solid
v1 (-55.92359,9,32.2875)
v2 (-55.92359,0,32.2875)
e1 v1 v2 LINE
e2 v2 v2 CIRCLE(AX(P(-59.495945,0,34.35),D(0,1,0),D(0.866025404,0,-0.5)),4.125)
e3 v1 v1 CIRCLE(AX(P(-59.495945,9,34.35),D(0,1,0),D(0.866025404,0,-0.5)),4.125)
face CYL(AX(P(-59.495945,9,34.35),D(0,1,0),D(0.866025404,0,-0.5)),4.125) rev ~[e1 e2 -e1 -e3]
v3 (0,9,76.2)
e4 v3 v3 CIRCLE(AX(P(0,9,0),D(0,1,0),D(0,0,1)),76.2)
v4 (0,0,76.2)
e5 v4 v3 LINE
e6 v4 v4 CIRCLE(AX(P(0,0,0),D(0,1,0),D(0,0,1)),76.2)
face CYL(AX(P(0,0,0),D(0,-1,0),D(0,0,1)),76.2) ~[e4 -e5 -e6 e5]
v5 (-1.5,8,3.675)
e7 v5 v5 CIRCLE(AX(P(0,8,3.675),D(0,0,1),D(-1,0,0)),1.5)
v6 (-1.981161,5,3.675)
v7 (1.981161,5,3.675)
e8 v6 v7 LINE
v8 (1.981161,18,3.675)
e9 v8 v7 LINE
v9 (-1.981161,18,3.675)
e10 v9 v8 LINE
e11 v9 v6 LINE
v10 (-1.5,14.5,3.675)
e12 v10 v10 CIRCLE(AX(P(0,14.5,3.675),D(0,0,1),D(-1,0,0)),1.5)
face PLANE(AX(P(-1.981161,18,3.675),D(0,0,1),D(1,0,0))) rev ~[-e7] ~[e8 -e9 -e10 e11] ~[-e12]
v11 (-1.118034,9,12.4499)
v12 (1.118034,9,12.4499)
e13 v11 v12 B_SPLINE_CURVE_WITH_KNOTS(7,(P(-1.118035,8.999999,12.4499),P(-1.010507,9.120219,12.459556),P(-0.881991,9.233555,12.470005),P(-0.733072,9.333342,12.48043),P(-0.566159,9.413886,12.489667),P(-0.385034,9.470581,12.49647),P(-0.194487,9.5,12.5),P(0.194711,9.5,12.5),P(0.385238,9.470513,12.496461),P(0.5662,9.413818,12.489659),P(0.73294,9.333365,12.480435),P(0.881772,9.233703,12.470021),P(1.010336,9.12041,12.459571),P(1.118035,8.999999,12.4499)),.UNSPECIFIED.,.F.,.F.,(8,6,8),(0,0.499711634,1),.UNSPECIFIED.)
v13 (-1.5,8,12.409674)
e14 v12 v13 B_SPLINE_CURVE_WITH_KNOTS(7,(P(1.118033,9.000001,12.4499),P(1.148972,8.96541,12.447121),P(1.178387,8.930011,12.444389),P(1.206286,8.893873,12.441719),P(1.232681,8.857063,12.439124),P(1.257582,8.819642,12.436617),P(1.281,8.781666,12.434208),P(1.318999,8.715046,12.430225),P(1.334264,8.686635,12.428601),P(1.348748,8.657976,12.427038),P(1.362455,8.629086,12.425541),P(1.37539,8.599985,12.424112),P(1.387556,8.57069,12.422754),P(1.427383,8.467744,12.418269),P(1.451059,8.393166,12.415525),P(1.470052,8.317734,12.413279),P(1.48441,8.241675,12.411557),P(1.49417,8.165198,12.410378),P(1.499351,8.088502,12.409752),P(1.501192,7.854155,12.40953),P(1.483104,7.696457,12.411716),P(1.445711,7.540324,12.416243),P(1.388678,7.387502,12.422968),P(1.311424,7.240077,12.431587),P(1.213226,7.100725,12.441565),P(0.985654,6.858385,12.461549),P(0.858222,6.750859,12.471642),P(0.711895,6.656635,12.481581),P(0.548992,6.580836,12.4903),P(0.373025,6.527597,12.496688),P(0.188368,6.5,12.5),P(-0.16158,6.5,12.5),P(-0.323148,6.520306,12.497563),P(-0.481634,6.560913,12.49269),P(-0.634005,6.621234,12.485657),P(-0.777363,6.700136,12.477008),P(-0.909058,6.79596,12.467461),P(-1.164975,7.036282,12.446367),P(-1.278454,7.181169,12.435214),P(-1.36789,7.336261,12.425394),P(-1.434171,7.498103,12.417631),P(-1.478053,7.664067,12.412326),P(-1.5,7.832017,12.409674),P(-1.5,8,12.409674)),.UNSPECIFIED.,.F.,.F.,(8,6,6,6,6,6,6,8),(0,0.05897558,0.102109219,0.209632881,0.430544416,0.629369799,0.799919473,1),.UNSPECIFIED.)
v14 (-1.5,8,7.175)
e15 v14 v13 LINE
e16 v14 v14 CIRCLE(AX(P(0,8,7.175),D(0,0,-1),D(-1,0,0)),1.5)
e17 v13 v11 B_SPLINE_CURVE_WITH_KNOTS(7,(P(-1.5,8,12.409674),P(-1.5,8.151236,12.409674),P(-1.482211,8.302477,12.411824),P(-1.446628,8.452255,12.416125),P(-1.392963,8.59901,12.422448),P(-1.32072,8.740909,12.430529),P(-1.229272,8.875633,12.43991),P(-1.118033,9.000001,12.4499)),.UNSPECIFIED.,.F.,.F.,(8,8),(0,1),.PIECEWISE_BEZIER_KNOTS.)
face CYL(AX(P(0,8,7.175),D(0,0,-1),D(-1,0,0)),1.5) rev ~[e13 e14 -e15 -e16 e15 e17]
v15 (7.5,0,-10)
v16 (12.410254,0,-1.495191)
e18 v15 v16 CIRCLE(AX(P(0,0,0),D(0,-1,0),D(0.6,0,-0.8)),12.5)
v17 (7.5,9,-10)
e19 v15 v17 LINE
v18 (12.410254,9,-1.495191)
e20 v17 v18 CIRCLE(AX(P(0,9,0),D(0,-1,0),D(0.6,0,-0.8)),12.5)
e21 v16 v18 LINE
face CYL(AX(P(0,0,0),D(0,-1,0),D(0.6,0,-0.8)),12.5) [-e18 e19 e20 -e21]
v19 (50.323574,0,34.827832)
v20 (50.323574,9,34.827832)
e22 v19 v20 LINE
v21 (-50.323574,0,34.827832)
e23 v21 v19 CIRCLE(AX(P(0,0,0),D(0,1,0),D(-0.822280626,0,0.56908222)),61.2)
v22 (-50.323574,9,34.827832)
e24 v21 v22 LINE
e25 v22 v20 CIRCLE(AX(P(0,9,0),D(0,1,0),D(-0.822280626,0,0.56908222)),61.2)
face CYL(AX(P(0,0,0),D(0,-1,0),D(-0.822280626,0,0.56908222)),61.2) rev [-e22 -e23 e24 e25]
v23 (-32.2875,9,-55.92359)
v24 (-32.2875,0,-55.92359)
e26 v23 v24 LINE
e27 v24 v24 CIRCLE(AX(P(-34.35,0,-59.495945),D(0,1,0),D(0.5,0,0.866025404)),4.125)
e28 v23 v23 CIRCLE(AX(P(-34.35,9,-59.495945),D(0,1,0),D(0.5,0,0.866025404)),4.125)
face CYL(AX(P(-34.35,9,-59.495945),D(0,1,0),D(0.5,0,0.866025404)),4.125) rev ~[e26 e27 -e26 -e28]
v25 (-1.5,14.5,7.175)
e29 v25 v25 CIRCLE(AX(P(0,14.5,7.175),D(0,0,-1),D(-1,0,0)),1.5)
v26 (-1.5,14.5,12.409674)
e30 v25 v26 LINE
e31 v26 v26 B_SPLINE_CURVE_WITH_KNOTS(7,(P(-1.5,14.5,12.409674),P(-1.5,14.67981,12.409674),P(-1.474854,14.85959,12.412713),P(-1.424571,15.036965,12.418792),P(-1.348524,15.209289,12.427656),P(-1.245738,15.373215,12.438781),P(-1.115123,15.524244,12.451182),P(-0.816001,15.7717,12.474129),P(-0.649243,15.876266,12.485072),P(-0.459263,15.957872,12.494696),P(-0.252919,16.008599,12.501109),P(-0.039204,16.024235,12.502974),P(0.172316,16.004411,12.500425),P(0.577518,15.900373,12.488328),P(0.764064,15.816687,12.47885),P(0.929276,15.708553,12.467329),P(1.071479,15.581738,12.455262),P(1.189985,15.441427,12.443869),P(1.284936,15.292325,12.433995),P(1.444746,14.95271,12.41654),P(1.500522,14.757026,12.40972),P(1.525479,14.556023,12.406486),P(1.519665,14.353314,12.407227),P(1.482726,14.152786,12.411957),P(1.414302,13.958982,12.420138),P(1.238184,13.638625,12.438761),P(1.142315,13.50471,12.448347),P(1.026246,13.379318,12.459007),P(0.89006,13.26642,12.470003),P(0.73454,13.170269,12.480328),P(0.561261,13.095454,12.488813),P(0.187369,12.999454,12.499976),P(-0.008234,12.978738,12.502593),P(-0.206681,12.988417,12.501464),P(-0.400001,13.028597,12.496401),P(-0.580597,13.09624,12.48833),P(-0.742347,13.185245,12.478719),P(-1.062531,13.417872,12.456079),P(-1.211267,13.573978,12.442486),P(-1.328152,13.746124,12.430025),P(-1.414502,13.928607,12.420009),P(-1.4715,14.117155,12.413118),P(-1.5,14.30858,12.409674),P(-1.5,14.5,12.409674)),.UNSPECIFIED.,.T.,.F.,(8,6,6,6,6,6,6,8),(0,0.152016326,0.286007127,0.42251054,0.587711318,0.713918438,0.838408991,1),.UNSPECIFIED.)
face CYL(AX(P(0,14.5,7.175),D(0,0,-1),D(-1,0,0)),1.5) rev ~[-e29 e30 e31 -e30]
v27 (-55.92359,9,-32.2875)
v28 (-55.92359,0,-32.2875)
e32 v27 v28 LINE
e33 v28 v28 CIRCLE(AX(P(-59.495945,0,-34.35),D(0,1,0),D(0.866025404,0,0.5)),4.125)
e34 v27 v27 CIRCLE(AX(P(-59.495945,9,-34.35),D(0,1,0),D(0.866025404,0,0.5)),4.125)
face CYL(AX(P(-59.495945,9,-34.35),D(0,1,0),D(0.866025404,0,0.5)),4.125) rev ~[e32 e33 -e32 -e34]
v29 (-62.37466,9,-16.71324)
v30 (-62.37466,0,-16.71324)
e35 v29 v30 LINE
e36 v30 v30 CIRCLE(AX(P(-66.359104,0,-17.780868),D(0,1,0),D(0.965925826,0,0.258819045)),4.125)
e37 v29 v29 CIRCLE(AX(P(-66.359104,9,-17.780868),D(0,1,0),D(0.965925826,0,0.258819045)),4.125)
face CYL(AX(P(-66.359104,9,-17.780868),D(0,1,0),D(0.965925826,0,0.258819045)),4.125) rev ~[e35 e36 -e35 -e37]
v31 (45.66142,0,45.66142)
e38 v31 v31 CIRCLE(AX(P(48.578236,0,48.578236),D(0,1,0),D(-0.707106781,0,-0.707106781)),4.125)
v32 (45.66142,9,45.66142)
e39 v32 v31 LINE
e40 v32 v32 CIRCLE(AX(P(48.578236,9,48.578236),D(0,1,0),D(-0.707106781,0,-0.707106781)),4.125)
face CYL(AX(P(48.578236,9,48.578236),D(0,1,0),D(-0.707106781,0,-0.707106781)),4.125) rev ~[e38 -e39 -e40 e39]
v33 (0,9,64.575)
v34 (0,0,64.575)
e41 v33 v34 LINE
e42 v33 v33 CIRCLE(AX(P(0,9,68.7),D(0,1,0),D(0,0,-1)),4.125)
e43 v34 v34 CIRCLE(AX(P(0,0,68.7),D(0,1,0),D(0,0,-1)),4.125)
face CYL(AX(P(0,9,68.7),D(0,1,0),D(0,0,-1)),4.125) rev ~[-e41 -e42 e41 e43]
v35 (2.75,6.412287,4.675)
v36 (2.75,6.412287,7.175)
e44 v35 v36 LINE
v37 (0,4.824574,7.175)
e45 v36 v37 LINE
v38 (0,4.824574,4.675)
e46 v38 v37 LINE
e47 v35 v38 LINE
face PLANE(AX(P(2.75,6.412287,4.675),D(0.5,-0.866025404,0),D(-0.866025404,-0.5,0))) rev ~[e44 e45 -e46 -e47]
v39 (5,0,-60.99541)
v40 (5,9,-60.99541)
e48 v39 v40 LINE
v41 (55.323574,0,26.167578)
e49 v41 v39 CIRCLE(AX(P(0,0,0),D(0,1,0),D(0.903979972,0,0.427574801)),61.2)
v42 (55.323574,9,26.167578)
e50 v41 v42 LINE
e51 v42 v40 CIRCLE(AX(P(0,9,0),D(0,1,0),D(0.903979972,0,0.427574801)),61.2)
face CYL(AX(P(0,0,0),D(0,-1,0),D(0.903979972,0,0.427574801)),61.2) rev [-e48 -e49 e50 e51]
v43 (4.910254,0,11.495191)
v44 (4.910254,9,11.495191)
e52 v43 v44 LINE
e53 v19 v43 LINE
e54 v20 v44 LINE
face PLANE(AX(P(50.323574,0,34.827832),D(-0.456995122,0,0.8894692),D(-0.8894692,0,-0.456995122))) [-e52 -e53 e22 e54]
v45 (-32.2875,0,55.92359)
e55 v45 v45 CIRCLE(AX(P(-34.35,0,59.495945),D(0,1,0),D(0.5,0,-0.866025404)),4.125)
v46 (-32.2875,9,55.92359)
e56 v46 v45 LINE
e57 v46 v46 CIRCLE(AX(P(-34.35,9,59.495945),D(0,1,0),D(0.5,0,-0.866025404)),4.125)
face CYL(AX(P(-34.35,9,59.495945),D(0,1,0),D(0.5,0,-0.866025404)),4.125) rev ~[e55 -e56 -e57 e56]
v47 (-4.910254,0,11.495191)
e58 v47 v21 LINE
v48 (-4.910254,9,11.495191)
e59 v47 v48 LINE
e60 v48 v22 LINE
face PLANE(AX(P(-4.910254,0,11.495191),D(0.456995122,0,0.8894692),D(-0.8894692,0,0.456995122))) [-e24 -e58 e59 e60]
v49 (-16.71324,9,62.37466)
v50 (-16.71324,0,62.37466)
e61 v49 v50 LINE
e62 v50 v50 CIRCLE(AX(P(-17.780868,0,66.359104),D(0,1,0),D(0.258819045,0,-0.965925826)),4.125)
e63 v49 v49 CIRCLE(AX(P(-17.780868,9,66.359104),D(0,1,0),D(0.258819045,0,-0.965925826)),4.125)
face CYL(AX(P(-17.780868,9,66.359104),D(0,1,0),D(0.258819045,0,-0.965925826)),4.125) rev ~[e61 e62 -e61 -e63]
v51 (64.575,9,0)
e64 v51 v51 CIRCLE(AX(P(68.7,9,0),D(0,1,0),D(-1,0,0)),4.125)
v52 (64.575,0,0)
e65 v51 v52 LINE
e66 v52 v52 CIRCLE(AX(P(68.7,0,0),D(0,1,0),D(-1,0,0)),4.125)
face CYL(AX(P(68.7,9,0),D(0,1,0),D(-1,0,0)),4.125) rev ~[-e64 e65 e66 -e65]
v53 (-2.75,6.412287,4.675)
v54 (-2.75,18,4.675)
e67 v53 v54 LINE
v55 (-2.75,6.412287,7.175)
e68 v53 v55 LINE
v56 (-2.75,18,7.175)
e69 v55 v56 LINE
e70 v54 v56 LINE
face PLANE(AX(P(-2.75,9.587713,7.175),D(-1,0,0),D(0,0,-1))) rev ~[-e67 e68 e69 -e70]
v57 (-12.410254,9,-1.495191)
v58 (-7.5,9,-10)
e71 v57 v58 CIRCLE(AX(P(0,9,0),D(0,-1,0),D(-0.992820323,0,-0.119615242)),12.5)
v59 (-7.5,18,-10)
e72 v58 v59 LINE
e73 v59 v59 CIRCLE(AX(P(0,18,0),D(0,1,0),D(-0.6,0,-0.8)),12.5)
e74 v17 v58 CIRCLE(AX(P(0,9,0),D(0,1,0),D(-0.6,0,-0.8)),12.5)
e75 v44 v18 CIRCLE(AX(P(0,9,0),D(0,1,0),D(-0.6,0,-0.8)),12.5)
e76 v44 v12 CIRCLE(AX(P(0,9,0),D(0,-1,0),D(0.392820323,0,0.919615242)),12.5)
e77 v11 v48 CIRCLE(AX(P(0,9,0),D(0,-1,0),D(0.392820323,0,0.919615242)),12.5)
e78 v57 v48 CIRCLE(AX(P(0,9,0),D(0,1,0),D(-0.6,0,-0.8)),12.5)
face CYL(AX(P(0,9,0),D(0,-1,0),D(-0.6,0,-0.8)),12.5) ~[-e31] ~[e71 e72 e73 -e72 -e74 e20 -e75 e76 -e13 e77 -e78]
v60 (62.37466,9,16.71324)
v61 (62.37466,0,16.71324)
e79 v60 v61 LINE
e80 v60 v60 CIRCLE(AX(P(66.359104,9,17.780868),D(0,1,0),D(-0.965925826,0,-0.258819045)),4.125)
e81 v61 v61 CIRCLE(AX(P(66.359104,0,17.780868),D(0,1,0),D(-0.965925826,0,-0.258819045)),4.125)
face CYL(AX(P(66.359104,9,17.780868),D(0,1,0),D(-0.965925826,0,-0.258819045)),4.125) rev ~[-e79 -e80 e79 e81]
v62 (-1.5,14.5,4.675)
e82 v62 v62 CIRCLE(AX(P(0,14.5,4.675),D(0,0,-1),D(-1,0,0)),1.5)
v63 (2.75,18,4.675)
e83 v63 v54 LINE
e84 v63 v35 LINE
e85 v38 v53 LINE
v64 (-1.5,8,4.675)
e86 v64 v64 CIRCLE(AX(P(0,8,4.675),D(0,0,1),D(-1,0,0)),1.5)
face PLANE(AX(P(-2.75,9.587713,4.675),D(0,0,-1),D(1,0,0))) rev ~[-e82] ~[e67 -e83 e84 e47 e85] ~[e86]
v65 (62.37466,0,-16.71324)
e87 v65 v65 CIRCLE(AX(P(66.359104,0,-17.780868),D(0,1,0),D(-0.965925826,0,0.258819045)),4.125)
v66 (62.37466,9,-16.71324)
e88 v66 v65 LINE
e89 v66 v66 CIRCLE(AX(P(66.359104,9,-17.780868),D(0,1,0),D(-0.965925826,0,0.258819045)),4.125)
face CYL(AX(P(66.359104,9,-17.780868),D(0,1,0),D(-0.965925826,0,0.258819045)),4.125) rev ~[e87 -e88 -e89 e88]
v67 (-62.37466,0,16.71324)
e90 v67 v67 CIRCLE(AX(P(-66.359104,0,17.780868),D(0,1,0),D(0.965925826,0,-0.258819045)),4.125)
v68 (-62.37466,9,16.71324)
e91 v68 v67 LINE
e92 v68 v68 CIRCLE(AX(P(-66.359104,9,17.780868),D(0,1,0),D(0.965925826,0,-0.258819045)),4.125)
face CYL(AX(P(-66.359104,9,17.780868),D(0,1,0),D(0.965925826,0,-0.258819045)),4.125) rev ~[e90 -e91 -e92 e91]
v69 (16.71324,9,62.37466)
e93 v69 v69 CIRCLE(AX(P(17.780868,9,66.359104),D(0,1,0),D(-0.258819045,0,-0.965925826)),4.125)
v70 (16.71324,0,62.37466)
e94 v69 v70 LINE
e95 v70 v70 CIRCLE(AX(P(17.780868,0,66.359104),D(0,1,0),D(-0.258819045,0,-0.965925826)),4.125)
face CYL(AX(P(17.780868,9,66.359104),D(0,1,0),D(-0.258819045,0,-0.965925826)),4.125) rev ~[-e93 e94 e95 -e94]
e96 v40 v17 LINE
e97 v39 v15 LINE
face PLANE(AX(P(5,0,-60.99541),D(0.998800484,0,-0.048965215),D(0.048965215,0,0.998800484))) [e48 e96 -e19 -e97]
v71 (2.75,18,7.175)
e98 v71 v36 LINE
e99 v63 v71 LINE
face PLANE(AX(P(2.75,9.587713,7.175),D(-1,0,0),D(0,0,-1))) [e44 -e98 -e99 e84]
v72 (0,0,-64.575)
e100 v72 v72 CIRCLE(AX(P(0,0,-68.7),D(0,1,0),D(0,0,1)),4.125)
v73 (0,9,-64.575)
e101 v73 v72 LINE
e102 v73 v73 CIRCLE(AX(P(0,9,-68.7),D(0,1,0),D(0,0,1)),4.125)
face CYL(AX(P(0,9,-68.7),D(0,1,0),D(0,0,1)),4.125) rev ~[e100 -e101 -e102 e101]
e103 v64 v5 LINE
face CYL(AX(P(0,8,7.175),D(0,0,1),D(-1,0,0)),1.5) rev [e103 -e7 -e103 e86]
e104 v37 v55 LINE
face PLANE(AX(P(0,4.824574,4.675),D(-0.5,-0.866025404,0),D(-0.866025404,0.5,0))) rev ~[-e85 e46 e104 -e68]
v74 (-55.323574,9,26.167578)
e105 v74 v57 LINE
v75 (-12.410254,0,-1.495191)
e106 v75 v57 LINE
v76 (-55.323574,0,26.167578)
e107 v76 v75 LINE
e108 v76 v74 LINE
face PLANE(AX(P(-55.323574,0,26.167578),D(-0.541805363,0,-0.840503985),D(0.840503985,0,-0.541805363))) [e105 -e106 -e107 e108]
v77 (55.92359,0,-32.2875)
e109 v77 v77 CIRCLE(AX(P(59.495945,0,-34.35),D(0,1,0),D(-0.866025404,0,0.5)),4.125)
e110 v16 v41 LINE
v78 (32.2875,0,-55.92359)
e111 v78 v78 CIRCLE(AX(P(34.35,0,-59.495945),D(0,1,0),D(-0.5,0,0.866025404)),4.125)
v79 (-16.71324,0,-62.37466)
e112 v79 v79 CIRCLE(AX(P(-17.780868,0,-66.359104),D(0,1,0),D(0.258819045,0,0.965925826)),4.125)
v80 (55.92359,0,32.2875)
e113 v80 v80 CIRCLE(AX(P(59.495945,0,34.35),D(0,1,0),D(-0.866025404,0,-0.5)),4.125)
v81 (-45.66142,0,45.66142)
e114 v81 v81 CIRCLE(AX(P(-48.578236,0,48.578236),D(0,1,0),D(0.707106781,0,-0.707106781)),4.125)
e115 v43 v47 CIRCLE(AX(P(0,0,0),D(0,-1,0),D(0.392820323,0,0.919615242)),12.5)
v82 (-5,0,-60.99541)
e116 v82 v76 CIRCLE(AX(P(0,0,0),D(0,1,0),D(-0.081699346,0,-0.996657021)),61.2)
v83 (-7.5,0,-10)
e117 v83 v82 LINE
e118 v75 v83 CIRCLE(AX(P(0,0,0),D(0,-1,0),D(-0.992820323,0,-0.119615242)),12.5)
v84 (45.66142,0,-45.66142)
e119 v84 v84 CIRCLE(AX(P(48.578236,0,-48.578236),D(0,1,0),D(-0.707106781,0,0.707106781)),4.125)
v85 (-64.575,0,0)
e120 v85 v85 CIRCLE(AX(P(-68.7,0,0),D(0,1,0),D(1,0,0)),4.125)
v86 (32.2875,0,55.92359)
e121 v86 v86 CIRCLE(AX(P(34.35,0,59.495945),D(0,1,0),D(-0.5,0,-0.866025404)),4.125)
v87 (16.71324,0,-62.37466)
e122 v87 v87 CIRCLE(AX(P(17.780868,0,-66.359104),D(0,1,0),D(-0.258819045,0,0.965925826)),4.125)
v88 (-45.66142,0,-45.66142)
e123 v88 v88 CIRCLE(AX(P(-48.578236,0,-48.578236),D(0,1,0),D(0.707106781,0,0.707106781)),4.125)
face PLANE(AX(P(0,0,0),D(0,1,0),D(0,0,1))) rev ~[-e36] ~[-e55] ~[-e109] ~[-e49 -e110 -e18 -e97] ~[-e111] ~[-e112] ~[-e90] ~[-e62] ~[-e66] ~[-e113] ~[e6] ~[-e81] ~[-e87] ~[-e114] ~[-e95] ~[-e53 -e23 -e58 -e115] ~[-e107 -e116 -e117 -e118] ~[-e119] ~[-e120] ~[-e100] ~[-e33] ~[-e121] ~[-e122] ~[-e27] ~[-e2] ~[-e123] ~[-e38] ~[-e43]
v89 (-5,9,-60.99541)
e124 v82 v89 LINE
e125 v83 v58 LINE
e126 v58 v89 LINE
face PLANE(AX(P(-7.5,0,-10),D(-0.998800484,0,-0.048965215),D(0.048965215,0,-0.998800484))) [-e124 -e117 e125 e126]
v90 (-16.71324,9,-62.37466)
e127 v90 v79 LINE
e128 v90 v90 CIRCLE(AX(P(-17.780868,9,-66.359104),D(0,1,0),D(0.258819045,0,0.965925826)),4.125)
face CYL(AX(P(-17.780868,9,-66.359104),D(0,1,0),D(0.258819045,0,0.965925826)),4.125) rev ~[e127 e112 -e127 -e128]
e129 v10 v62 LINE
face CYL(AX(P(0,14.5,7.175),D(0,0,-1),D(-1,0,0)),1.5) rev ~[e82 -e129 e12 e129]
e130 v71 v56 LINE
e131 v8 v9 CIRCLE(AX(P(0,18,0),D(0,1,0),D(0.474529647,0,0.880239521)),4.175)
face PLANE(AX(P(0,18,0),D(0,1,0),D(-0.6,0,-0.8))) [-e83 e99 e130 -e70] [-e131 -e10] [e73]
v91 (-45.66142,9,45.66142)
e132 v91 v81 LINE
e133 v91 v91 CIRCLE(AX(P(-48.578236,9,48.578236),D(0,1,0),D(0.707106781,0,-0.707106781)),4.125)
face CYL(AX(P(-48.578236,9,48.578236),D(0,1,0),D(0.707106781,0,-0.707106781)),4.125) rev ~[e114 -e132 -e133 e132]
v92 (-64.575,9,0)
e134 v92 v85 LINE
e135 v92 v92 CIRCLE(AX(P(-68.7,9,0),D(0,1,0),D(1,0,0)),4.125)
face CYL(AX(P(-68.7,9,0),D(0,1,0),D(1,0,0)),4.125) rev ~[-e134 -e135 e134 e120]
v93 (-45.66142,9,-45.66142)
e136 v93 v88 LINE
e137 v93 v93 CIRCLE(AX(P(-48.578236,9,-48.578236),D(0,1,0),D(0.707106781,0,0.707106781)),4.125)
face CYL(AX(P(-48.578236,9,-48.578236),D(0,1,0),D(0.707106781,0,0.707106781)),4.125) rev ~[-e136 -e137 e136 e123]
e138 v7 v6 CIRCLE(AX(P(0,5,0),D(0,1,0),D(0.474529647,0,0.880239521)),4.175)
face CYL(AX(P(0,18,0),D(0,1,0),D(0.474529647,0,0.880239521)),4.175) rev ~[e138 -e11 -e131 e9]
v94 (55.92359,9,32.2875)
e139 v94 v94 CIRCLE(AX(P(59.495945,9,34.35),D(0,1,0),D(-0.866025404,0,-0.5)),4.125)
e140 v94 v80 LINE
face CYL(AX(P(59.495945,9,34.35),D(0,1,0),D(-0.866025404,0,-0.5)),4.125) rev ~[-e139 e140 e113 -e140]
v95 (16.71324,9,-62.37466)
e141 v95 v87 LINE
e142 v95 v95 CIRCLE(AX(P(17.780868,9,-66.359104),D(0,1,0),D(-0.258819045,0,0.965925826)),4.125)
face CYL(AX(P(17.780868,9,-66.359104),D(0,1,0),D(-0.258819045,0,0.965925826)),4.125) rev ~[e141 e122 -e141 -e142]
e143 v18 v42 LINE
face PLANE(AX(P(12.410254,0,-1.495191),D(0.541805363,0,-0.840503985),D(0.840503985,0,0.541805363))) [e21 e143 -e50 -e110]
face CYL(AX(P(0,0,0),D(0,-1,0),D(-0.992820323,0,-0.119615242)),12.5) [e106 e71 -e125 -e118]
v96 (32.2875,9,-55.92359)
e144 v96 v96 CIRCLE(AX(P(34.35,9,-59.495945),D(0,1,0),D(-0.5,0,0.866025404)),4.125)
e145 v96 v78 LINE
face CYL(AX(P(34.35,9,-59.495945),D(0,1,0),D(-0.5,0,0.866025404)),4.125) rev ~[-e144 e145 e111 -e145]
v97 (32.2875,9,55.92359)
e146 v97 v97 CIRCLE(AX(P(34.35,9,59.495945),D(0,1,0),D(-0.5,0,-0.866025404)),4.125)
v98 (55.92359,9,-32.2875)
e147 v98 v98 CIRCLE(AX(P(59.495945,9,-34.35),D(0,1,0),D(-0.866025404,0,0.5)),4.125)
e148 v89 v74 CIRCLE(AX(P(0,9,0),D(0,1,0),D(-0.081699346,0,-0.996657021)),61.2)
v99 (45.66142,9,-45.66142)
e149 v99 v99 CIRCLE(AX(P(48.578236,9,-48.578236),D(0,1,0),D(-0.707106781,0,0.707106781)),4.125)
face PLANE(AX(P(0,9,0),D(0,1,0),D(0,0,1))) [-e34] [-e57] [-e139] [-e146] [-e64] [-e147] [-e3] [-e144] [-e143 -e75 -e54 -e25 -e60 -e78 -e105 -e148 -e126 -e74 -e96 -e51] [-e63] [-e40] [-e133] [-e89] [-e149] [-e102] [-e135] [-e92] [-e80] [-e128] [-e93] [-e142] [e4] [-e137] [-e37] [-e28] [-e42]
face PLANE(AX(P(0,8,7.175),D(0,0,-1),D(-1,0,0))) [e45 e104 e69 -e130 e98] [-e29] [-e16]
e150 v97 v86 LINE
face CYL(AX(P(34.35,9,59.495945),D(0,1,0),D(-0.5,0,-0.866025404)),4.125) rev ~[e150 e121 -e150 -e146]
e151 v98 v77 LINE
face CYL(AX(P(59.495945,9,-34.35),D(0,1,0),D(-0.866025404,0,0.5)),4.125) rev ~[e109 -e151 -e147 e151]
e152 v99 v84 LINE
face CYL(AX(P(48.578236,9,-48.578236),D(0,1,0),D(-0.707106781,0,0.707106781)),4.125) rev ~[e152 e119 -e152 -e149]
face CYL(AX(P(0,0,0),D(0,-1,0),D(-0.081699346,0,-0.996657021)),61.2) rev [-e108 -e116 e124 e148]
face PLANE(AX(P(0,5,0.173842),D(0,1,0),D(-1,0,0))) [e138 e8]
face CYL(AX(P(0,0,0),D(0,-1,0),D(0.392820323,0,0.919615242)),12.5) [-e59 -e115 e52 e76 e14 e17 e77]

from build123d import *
from build123d.topology import SkipClean

# Parameters (mm, degrees)
SKETCH1_R                      = 76.2
BOSS_EXTRUDE1_DEPTH            = 9
SKETCH2_R                      = 12.5
BOSS_EXTRUDE2_DEPTH            = 9
CUT_EXTRUDE1_DEPTH             = 13
CUT_EXTRUDE2_START             = -1
CUT_EXTRUDE2_DEPTH             = 2.5
CUT_EXTRUDE3_REACH             = 116.376
SKETCH5_R                      = 1.5
CUT_EXTRUDE3_DIRECTION_2_REACH = 116.376
SKETCH6_W                      = 5.5
SKETCH6_H                      = 2.5
CUT_EXTRUDE4_DEPTH             = 109.188743625
SKETCH7_R                      = 4.125
CUT_EXTRUDE5_DEPTH             = 109.138244862
CIRPATTERN1_COUNT              = 24


with BuildPart() as part:
    # Sketch1 → Boss-Extrude1 (new body)
    with BuildSketch(Plane(origin=(0, 0, 0), x_dir=(1, 0, 0), z_dir=(0, 1, 0))):
        with Locations(Location((0, 0, 0), (0, 0, 270))):
            Circle(SKETCH1_R)
        with BuildLine():
            Line((-7.5, 10), (-5, 60.995409663))
            ThreePointArc((-5, 60.995409663), (-53.000754712, 30.6), (-55.323574283, -26.167577813))
            Line((-55.323574283, -26.167577813), (-12.410254038, 1.495190528))
            ThreePointArc((-12.410254038, 1.495190528), (-10.825317547, 6.25), (-7.5, 10))
        make_face(mode=Mode.SUBTRACT)
        with BuildLine():
            Line((5, 60.995409663), (7.5, 10))
            ThreePointArc((7.5, 10), (10.825317547, 6.25), (12.410254038, 1.495190528))
            Line((12.410254038, 1.495190528), (55.323574283, -26.167577813))
            ThreePointArc((55.323574283, -26.167577813), (53.000754712, 30.6), (5, 60.995409663))
        make_face(mode=Mode.SUBTRACT)
        with BuildLine():
            Line((50.323574283, -34.827831851), (4.910254038, -11.495190528))
            ThreePointArc((4.910254038, -11.495190528), (0, -12.5), (-4.910254038, -11.495190528))
            Line((-4.910254038, -11.495190528), (-50.323574283, -34.827831851))
            ThreePointArc((-50.323574283, -34.827831851), (0, -61.2), (50.323574283, -34.827831851))
        make_face(mode=Mode.SUBTRACT)
    extrude(amount=BOSS_EXTRUDE1_DEPTH)

    # Sketch2 → Boss-Extrude2 (add)
    with BuildSketch(Plane(origin=(0, 9, 0), x_dir=(1, 0, 0), z_dir=(0, 1, 0))):
        with Locations(Location((0, 0, 0), (0, 0, 126.869897646))):
            Circle(SKETCH2_R)
    extrude(amount=BOSS_EXTRUDE2_DEPTH)

    # Sketch3 → Cut-Extrude1 (cut)
    with BuildSketch(Plane.XZ.offset(-18)):
        with BuildLine():
            Line((-1.981161276, 3.675), (1.981161276, 3.675))
            ThreePointArc((1.981161276, 3.675), (0, -4.175), (-1.981161276, 3.675))
        make_face()
    extrude(amount=CUT_EXTRUDE1_DEPTH, mode=Mode.SUBTRACT)

    # Sketch4 → Cut-Extrude2 (cut)
    with BuildSketch(Plane(origin=(0, 0, 3.675), x_dir=(-1, 0, 0), z_dir=(0, 0, -1)).offset(CUT_EXTRUDE2_START)):
        Polygon((0, 11.175426481), (-2.75, 9.58771324), (-2.75, 6.41228676), (0, 4.824573519), (2.75, 6.41228676), (2.75, 9.58771324), align=None)
    extrude(amount=-CUT_EXTRUDE2_DEPTH, mode=Mode.SUBTRACT)

    # Sketch5 → Cut-Extrude3 (cut, up to next)
    with BuildSketch(Plane(origin=(0, 0, 7.175), x_dir=(-1, 0, 0), z_dir=(0, 0, -1)), mode=Mode.PRIVATE) as cut_extrude3_sk1:
        with Locations((0, 8)):
            Circle(SKETCH5_R)
    cut_extrude3_tool1 = extrude(cut_extrude3_sk1.sketch, amount=-CUT_EXTRUDE3_REACH, mode=Mode.PRIVATE) & part.part
    # Sketch5 → Cut-Extrude3 (cut, up to next)
    with BuildSketch(Plane(origin=(0, 0, 7.175), x_dir=(-1, 0, 0), z_dir=(0, 0, -1)), mode=Mode.PRIVATE) as cut_extrude3_sk2:
        with Locations((0, 14.5)):
            Circle(SKETCH5_R)
    cut_extrude3_tool2 = extrude(cut_extrude3_sk2.sketch, amount=-CUT_EXTRUDE3_REACH, mode=Mode.PRIVATE) & part.part
    add(cut_extrude3_tool1.solids().sort_by_distance((0, 8, 7.175))[0], mode=Mode.SUBTRACT)
    add(cut_extrude3_tool2.solids().sort_by_distance((0, 14.5, 7.175))[0], mode=Mode.SUBTRACT)

    # Sketch5 → Cut-Extrude3 direction 2 (cut, up to next)
    with BuildSketch(Plane(origin=(0, 0, 7.175), x_dir=(-1, 0, 0), z_dir=(0, 0, -1)), mode=Mode.PRIVATE) as cut_extrude3_direction_2_sk1:
        with Locations((0, 8)):
            Circle(SKETCH5_R)
    cut_extrude3_direction_2_tool1 = extrude(cut_extrude3_direction_2_sk1.sketch, amount=CUT_EXTRUDE3_DIRECTION_2_REACH, mode=Mode.PRIVATE) & part.part
    # Sketch5 → Cut-Extrude3 direction 2 (cut, up to next)
    with BuildSketch(Plane(origin=(0, 0, 7.175), x_dir=(-1, 0, 0), z_dir=(0, 0, -1)), mode=Mode.PRIVATE) as cut_extrude3_direction_2_sk2:
        with Locations((0, 14.5)):
            Circle(SKETCH5_R)
    cut_extrude3_direction_2_tool2 = extrude(cut_extrude3_direction_2_sk2.sketch, amount=CUT_EXTRUDE3_DIRECTION_2_REACH, mode=Mode.PRIVATE) & part.part
    add(cut_extrude3_direction_2_tool1.solids().sort_by_distance((0, 8, 7.175))[0], mode=Mode.SUBTRACT)
    add(cut_extrude3_direction_2_tool2.solids().sort_by_distance((0, 14.5, 7.175))[0], mode=Mode.SUBTRACT)

    # Sketch6 → Cut-Extrude4 (cut, through all)
    with BuildSketch(Plane(origin=(0, 9.58771324, 0), x_dir=(1, 0, 0), z_dir=(0, 1, 0))):
        with Locations((0, -5.925)):
            Rectangle(SKETCH6_W, SKETCH6_H)
    extrude(amount=CUT_EXTRUDE4_DEPTH, mode=Mode.SUBTRACT)

    # Sketch7 → Cut-Extrude5 (cut, through all)
    with SkipClean():  # the faces are left unmerged after this step: merging them gives an invalid solid
        with BuildSketch(Plane(origin=(0, 9, 0), x_dir=(1, 0, 0), z_dir=(0, 1, 0))):
            with Locations(Location((0, 68.7, 0), (0, 0, 270))):
                Circle(SKETCH7_R)
        cut_extrude5 = extrude(amount=-CUT_EXTRUDE5_DEPTH, mode=Mode.SUBTRACT)

    # CirPattern1: Cut-Extrude5 ×24 about axis
    with SkipClean():  # the faces are left unmerged after this step: merging them gives an invalid solid
        cirpattern1_axis = Axis((0, 0, 0), (0, 1, 0))
        for i in range(1, CIRPATTERN1_COUNT):
            add(cut_extrude5.rotate(cirpattern1_axis, i * 360 / CIRPATTERN1_COUNT), mode=Mode.SUBTRACT)


solid = part.part
